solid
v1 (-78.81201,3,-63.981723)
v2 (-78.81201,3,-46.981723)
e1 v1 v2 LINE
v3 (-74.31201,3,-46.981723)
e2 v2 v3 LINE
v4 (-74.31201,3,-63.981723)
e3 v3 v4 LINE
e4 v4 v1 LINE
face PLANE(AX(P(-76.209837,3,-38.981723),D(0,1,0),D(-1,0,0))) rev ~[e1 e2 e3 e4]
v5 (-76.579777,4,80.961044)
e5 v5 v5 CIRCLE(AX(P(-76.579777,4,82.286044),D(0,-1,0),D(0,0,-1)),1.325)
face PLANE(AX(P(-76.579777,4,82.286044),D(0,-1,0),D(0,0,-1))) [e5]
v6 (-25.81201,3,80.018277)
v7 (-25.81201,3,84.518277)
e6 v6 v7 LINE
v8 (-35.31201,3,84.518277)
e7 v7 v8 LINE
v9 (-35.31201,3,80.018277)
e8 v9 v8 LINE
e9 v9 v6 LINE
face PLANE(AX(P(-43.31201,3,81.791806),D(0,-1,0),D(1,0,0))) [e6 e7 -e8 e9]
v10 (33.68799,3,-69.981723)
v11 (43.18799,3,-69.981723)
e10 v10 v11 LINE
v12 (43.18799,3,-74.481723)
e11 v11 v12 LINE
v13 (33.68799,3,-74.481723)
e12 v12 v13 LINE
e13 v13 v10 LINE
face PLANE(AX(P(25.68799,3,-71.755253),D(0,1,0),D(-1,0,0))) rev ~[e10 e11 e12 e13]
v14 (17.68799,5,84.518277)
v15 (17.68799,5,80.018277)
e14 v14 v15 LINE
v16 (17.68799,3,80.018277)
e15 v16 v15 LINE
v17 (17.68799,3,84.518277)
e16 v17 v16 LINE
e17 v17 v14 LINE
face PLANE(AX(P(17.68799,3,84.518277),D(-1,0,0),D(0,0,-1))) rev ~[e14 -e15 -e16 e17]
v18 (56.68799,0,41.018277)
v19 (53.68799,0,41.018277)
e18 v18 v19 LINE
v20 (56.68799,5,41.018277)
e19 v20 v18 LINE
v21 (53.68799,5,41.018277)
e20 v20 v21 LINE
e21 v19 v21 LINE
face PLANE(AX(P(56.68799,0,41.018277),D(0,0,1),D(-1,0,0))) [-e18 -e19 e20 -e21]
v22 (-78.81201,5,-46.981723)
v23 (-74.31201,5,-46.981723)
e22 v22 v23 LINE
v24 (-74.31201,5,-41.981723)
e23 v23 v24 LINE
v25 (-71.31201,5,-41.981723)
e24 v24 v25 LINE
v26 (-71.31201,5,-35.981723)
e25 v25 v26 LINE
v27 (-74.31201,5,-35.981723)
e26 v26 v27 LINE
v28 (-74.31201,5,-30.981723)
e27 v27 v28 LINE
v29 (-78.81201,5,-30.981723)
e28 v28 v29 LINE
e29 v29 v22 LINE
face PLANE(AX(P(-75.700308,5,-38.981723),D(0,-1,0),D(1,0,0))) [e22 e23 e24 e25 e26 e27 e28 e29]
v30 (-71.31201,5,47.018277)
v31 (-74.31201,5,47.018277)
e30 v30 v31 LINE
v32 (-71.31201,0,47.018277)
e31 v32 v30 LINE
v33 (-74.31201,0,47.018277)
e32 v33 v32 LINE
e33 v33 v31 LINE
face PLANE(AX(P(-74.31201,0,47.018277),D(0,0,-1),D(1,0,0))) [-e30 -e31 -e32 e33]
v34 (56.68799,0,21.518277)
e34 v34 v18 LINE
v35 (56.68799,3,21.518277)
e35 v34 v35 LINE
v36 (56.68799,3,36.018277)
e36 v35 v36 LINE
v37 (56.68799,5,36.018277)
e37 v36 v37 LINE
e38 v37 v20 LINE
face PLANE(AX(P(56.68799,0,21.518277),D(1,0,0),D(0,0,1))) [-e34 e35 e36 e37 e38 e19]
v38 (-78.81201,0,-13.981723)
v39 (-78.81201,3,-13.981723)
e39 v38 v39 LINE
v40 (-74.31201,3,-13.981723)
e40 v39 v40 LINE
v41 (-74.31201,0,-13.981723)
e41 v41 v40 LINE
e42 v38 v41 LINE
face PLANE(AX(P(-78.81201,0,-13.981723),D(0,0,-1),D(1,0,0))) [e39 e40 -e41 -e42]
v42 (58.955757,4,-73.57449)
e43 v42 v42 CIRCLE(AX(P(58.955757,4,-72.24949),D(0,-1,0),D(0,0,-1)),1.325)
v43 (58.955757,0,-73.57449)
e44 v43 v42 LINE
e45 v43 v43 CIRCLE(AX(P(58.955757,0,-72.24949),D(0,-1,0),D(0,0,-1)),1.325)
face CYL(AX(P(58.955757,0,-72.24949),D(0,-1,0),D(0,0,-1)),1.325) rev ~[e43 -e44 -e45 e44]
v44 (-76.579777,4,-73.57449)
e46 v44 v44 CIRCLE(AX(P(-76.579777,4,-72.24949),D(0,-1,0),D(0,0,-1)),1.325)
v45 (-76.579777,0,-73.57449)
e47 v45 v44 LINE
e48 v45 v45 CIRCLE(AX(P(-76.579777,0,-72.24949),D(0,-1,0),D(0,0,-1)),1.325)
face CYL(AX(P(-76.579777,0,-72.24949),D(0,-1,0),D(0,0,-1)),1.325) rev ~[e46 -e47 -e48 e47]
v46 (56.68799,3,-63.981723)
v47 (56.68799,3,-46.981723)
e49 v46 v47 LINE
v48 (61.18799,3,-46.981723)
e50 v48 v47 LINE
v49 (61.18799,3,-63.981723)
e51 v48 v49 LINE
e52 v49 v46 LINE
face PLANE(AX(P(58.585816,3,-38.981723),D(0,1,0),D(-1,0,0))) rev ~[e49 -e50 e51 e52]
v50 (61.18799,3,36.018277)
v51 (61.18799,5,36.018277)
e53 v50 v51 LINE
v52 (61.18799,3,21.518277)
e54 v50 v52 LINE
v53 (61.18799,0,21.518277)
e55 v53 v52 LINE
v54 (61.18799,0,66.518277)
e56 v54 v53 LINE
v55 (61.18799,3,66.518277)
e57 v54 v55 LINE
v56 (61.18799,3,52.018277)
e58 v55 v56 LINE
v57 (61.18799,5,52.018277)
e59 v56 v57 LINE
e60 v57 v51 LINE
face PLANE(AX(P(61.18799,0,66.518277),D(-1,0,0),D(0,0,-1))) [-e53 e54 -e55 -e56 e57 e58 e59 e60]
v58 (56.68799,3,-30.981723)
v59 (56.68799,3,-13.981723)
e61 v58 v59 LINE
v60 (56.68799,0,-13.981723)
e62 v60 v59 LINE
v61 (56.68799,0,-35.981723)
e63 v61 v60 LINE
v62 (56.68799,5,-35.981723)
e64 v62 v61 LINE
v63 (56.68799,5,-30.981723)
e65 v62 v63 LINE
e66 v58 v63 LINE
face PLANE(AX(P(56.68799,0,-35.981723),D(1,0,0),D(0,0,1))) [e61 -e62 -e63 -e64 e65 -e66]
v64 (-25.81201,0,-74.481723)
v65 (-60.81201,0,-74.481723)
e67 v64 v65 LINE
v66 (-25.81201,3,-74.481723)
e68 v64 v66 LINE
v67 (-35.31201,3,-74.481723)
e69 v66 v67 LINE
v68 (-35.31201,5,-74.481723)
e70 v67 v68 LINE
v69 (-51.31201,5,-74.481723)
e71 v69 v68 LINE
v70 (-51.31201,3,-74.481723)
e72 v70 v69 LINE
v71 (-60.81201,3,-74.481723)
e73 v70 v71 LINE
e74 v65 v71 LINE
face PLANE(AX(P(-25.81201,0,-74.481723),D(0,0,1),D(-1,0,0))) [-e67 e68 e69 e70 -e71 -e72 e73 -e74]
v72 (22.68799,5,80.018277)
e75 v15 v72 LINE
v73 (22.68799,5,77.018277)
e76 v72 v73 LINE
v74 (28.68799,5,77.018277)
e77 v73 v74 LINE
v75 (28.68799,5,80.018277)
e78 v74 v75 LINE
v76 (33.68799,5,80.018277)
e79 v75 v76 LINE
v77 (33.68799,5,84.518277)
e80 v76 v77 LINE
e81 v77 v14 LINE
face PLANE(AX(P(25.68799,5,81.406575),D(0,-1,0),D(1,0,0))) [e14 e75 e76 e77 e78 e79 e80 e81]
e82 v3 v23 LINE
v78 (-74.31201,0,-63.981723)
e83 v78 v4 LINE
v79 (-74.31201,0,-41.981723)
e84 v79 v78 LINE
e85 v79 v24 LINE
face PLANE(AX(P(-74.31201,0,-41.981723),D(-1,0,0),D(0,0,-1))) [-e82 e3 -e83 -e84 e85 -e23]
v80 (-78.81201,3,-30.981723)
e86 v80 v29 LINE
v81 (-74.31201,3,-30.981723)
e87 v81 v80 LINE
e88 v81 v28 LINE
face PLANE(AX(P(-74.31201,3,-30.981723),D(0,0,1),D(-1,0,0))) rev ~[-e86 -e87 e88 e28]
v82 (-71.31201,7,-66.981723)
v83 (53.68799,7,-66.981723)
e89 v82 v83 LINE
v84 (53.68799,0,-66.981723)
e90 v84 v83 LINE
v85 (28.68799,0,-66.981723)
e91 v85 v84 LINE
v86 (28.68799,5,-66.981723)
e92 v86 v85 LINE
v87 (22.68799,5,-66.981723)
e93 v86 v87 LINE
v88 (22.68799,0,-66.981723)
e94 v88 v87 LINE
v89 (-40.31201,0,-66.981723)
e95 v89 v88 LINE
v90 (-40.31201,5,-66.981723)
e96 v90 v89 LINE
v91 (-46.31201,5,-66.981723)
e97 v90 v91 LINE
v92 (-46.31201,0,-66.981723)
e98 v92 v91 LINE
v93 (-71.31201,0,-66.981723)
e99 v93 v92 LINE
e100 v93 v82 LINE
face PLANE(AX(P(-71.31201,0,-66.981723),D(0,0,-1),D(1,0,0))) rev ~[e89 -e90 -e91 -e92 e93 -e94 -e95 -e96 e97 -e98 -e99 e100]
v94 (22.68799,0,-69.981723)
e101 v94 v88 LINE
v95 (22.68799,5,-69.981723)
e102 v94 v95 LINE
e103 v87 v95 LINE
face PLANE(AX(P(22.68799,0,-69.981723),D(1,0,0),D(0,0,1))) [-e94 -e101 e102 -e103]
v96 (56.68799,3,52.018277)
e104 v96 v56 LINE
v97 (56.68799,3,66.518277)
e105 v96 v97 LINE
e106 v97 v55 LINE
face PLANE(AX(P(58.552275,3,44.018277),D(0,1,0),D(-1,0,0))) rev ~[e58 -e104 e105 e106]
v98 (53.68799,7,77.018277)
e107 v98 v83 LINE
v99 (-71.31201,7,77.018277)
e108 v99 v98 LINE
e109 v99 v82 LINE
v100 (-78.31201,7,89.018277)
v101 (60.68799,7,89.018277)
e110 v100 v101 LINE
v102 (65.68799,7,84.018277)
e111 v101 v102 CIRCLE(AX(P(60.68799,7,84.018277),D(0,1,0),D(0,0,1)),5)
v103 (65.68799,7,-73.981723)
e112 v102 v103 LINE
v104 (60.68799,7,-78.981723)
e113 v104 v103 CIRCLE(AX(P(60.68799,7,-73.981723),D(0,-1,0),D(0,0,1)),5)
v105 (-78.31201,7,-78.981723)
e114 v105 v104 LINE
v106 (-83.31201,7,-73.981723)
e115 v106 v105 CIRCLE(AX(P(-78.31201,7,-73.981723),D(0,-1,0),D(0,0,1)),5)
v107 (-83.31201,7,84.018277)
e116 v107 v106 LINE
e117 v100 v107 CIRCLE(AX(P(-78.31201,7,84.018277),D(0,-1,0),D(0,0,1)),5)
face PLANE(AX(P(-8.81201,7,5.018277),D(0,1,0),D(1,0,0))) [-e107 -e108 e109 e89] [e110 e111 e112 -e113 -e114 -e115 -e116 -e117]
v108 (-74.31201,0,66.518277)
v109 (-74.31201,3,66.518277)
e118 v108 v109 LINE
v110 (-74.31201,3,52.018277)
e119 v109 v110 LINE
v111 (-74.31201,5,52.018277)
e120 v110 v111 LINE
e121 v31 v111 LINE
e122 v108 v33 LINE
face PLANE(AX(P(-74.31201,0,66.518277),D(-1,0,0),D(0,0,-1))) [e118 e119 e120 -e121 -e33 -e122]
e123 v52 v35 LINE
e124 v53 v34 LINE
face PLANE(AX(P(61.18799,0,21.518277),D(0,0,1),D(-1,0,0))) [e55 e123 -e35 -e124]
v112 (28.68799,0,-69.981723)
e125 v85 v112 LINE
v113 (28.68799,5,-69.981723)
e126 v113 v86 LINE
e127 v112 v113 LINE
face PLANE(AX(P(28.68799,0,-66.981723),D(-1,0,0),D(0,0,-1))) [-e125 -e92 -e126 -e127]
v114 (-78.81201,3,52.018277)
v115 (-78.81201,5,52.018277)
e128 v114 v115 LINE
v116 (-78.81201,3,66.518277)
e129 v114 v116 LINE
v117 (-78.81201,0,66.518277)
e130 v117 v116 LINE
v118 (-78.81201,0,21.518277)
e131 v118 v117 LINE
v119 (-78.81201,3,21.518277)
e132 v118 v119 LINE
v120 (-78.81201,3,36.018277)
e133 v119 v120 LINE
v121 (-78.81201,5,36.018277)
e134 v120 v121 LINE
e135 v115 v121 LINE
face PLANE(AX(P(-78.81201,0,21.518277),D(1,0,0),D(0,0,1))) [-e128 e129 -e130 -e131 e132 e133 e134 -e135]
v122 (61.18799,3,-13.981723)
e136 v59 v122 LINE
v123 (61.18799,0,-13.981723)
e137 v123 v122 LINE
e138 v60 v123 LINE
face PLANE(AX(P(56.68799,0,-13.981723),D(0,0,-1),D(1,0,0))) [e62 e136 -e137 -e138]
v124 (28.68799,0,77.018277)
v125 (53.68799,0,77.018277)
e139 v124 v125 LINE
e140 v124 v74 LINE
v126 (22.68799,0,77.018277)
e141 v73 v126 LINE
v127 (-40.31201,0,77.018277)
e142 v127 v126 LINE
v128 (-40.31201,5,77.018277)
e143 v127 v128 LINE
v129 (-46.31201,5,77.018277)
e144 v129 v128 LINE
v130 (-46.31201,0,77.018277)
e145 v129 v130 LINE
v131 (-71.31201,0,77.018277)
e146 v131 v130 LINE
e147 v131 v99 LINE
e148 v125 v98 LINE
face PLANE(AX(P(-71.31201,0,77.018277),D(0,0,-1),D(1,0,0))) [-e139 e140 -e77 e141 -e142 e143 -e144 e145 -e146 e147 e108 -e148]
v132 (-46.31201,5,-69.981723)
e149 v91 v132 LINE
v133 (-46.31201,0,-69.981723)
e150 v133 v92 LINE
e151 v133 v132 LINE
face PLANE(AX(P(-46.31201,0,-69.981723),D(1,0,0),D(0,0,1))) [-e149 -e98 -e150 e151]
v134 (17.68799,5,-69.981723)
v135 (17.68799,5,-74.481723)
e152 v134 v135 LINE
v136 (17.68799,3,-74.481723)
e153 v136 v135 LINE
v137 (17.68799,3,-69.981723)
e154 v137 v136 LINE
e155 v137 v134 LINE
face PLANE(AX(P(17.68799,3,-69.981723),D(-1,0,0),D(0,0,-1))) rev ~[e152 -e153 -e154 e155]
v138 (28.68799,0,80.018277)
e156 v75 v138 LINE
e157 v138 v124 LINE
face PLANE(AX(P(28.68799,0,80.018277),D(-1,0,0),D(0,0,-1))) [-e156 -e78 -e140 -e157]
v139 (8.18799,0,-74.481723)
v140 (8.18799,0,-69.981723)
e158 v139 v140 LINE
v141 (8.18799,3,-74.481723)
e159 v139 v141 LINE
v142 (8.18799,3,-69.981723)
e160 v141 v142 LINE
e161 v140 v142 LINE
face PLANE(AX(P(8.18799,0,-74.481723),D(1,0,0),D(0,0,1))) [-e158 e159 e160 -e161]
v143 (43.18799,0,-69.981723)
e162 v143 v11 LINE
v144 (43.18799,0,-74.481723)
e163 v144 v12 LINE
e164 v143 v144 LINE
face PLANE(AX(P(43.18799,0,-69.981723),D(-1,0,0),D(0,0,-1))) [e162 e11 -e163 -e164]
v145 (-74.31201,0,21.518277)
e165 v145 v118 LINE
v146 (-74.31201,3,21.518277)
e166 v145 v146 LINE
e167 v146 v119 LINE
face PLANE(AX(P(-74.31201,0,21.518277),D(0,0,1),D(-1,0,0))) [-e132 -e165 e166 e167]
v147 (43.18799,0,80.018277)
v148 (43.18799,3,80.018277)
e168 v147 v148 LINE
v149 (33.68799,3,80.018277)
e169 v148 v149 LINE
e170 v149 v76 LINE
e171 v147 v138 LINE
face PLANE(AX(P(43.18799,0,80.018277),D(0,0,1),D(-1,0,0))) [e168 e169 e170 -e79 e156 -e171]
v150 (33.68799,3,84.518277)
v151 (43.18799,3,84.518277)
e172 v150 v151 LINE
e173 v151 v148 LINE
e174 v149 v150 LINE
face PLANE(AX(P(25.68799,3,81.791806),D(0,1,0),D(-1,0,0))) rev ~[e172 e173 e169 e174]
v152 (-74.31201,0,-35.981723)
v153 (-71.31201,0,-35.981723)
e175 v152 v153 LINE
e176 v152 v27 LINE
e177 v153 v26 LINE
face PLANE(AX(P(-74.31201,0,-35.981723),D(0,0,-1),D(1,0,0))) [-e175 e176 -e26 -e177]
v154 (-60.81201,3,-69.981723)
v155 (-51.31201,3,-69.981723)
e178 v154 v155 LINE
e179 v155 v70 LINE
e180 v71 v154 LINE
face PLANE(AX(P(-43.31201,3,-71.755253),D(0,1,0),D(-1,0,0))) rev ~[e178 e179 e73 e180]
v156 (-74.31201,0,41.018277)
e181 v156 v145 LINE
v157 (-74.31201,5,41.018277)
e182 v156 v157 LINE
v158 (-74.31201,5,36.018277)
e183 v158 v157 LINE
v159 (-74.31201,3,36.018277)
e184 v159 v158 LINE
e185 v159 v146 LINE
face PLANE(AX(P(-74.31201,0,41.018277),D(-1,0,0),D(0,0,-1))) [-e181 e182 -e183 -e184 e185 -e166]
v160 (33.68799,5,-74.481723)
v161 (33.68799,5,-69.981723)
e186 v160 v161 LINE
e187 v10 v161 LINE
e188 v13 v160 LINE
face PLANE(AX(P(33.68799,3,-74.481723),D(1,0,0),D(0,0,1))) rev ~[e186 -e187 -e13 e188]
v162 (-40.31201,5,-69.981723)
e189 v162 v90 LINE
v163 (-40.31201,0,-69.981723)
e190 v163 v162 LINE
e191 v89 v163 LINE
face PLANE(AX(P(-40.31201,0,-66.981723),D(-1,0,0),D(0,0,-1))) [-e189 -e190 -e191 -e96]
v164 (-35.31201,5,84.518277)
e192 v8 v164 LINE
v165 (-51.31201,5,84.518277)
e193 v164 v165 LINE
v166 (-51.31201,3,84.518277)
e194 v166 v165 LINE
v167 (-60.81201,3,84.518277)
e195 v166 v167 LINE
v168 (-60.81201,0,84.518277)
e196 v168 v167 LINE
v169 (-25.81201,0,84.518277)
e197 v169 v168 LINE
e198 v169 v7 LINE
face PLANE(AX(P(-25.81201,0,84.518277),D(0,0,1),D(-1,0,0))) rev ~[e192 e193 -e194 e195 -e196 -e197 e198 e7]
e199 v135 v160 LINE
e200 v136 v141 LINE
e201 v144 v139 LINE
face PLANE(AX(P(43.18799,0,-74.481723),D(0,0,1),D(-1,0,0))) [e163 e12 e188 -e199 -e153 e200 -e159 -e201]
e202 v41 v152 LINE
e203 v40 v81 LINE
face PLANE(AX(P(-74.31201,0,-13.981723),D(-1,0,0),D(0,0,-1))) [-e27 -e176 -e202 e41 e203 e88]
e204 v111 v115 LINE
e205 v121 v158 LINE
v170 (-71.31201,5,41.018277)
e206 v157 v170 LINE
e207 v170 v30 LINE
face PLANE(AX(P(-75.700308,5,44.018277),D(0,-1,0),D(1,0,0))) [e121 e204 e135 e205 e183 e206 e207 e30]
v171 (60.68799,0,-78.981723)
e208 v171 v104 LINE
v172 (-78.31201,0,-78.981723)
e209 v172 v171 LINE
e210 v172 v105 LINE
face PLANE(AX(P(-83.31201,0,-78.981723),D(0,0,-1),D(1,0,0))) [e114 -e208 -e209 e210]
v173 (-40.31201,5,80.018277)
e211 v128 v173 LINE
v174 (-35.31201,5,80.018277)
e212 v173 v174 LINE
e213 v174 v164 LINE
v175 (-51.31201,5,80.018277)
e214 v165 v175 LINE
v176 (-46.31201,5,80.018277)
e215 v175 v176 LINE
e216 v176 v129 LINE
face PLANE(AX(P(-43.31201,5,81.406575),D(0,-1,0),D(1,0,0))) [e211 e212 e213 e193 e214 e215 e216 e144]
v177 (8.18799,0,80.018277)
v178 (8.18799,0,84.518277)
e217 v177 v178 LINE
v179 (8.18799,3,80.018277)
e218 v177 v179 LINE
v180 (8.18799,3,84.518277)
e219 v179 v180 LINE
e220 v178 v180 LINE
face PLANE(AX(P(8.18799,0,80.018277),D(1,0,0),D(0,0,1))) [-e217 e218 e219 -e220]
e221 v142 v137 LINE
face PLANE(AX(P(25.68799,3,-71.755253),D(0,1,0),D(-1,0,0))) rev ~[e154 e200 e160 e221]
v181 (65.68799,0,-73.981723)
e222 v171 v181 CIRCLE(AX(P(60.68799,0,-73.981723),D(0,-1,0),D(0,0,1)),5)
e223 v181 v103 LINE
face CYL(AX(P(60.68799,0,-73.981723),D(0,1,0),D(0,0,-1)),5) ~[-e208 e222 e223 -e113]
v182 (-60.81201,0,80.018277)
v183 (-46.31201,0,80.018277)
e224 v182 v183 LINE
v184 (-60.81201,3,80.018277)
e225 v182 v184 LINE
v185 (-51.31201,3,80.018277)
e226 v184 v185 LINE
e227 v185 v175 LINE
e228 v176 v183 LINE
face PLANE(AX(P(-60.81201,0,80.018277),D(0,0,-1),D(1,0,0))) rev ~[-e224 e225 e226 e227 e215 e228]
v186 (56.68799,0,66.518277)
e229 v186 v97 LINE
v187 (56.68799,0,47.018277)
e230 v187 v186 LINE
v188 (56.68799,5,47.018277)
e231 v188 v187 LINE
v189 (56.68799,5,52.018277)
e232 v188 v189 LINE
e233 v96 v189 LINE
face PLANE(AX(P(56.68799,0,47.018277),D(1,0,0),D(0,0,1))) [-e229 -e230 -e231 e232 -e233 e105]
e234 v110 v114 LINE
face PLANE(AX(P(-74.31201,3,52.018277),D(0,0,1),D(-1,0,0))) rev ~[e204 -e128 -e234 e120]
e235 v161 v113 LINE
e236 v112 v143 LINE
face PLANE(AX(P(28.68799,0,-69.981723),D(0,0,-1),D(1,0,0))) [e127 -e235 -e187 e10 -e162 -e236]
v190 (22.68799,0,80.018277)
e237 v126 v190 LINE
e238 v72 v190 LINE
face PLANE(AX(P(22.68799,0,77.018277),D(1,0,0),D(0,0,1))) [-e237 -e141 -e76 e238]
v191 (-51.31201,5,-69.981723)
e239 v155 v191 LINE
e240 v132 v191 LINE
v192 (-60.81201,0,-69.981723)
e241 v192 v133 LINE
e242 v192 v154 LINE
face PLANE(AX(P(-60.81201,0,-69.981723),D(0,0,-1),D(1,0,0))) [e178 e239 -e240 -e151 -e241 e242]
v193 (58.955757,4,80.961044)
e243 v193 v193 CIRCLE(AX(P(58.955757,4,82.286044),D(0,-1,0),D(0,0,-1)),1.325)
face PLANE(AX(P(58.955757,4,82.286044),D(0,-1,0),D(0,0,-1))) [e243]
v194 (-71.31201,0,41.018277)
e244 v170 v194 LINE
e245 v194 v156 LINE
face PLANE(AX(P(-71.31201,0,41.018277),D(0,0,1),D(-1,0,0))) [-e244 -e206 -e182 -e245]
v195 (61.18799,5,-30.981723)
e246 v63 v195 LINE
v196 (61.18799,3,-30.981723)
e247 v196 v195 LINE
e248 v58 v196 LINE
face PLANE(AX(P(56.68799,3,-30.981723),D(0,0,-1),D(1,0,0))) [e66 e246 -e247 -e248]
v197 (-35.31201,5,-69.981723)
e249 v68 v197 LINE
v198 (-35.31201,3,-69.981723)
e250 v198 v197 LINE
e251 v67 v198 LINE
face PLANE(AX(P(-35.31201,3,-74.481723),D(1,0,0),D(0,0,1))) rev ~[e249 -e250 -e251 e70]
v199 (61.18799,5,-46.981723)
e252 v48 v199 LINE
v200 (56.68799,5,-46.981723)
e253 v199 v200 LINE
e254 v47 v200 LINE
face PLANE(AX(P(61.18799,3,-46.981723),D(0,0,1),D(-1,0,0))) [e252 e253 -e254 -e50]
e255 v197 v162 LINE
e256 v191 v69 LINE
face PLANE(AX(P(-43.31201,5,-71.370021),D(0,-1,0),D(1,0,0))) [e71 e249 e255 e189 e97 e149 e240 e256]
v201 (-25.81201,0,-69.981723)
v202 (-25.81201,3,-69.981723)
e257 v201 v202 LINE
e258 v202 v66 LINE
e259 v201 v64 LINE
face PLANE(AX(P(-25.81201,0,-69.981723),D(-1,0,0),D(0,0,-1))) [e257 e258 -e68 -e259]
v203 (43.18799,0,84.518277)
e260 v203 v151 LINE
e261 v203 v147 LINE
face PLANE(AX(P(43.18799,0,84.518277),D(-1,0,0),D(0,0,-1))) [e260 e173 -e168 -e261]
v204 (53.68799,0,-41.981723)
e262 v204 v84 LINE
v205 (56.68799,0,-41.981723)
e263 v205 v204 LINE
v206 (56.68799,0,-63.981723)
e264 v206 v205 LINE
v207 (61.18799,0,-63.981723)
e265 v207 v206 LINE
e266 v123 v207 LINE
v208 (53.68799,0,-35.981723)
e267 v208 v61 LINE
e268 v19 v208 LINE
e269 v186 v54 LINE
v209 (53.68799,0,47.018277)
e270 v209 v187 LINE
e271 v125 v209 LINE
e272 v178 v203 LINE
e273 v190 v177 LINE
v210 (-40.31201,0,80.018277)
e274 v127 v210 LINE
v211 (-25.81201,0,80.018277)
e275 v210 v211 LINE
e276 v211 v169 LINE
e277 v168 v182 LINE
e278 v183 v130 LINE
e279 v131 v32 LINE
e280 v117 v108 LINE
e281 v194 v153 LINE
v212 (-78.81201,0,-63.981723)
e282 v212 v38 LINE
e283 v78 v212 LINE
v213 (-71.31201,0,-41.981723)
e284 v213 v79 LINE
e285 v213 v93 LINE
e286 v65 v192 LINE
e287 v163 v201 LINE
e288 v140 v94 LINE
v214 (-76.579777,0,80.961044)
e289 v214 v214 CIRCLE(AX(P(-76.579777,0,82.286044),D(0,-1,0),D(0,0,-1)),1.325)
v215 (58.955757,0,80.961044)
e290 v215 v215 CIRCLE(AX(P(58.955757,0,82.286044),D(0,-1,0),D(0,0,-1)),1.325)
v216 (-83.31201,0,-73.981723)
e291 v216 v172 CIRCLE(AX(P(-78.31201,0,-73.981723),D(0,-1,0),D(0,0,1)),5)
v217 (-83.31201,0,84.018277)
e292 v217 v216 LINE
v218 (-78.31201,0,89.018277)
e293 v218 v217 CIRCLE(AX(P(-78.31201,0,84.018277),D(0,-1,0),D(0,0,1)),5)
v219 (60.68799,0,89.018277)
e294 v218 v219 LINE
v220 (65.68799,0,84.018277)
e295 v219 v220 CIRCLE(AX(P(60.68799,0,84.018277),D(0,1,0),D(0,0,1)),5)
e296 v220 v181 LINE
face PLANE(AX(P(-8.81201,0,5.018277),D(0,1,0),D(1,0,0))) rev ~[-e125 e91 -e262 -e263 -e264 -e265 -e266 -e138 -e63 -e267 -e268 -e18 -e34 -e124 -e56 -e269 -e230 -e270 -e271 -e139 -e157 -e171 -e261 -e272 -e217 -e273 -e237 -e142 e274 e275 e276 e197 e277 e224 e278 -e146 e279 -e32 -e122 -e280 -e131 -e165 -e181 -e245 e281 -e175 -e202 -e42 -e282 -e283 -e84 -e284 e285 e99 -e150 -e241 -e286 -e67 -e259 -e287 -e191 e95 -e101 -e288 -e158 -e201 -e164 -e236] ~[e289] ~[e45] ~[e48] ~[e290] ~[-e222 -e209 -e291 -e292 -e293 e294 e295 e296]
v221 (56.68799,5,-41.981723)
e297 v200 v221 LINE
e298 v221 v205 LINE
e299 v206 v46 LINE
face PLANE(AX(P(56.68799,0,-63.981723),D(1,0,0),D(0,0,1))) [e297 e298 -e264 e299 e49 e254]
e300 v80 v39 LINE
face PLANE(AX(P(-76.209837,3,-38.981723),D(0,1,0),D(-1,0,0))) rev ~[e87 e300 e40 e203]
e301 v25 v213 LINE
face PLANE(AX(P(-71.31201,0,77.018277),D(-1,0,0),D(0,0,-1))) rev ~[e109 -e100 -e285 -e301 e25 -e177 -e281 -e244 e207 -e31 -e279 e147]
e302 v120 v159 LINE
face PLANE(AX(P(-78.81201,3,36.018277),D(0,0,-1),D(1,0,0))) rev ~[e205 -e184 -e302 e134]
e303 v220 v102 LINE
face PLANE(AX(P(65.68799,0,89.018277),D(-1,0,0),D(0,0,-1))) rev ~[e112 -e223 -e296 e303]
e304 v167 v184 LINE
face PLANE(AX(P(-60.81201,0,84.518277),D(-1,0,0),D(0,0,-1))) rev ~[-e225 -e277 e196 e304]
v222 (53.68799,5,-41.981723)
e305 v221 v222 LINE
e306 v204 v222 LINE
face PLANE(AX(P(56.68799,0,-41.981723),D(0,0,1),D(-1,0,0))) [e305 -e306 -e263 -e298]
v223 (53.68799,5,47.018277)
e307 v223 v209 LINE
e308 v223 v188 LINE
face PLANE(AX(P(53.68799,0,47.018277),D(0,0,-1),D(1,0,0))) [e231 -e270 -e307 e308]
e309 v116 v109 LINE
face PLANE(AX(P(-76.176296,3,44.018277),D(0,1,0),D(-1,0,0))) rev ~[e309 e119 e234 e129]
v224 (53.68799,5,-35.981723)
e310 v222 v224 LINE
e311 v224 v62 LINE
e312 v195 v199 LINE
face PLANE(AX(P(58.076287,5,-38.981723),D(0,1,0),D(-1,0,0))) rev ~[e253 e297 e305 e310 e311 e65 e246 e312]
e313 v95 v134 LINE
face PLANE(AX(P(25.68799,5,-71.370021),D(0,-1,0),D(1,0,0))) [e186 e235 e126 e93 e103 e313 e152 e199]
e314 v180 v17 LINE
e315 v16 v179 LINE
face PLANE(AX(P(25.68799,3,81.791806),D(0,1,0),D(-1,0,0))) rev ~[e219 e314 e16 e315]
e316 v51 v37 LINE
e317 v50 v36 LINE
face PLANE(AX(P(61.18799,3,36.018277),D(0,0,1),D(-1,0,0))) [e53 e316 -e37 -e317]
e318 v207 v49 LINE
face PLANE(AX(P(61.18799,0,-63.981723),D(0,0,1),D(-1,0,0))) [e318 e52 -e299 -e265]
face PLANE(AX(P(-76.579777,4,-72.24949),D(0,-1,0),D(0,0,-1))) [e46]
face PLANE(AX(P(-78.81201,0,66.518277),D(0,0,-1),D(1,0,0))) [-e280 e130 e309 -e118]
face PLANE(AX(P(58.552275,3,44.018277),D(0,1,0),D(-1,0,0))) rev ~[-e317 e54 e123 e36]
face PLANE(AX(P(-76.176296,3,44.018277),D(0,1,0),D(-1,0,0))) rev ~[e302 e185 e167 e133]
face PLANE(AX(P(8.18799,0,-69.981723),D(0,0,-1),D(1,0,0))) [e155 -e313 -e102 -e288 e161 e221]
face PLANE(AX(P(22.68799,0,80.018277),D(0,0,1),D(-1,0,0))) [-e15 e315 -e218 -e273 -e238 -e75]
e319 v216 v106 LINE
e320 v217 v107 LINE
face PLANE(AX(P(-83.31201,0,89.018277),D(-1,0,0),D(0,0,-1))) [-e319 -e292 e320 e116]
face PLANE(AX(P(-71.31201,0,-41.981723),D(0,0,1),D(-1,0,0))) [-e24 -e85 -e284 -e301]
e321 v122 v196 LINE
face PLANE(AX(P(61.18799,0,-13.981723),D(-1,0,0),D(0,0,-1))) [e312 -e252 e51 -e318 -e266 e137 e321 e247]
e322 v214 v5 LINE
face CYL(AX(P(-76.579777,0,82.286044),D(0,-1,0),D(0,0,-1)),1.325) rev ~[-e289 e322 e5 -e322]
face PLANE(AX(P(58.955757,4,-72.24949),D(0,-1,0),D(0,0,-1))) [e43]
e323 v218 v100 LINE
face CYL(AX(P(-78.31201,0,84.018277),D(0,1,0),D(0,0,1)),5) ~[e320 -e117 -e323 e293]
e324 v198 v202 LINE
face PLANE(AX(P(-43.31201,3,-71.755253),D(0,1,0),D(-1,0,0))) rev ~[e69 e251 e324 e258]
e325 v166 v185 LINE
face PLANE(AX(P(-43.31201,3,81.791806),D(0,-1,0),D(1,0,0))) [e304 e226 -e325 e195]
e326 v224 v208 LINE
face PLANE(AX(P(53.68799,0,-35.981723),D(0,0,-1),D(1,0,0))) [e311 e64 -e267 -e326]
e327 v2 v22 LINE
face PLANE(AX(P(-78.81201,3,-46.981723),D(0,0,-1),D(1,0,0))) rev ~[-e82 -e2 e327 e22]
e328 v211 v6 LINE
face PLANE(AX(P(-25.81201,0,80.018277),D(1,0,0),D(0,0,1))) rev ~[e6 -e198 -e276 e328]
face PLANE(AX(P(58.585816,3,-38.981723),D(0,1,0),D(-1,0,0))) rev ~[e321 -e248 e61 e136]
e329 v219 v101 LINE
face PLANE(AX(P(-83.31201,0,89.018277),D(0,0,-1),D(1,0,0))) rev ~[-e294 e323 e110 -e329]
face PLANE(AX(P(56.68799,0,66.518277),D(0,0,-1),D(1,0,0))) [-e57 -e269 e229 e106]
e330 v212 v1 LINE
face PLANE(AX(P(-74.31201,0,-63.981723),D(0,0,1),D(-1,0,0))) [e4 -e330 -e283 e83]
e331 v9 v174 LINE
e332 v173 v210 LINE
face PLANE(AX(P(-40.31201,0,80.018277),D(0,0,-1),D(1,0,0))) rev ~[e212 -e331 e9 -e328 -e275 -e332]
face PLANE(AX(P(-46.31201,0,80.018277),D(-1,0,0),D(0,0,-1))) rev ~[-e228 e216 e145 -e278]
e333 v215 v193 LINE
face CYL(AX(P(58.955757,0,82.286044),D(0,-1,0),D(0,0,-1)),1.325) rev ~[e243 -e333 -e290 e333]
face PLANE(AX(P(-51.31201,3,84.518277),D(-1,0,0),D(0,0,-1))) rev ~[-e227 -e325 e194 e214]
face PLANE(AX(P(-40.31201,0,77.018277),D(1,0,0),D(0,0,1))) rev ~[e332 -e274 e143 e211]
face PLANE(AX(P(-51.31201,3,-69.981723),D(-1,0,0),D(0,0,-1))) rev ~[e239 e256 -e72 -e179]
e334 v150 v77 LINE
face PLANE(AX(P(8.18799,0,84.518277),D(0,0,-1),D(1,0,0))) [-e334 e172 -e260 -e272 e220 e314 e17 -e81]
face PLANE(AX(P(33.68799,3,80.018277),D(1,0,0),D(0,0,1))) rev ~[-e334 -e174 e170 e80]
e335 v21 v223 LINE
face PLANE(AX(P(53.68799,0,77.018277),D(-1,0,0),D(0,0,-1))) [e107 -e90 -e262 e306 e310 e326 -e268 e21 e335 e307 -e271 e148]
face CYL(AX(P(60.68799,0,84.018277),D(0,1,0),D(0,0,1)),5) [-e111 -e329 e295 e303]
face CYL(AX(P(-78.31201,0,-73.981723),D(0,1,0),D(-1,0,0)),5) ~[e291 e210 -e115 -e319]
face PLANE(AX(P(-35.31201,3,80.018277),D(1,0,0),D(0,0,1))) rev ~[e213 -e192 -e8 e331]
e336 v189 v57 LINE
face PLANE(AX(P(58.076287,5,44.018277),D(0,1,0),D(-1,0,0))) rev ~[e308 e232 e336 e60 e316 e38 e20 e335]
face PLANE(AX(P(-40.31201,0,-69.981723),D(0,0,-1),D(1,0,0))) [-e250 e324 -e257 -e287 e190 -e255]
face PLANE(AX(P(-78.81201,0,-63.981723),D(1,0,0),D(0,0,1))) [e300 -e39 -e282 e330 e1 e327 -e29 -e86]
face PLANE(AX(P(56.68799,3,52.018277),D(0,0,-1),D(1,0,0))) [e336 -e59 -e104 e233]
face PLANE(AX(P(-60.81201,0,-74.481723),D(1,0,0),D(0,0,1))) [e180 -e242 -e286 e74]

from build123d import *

# Parameters (mm, degrees)
SKETCH1_W           = 149
SKETCH1_H           = 168
SKETCH1_W_2         = 125
SKETCH1_H_2         = 144
BOSS_EXTRUDE1_DEPTH = 7
FILLET1_R           = 5
FILLET2_R           = 5
FILLET3_R           = 5
FILLET4_R           = 5
CUT_EXTRUDE1_DEPTH  = 3
SKETCH6_R           = 1.325
CUT_EXTRUDE2_DEPTH  = 4
CUT_EXTRUDE3_DEPTH  = 2


with BuildPart() as part:
    # Sketch1 → Boss-Extrude1 (new body)
    with BuildSketch(Plane(origin=(0, 0, 0), x_dir=(1, 0, 0), z_dir=(0, 1, 0))):
        with Locations((-8.812010444, -5.018276762)):
            Rectangle(SKETCH1_W, SKETCH1_H)
        with Locations((-8.812010444, -5.018276762)):
            Rectangle(SKETCH1_W_2, SKETCH1_H_2, mode=Mode.SUBTRACT)
    extrude(amount=BOSS_EXTRUDE1_DEPTH)

    # Fillet1
    fillet1_edges = [part.edges().sort_by_distance(p)[0] for p in [
        (65.687989556, 3.5, 89.018276762),
    ]]
    fillet(fillet1_edges, radius=FILLET1_R)

    # Fillet2
    fillet2_edges = [part.edges().sort_by_distance(p)[0] for p in [
        (-83.312010444, 3.5, 89.018276762),
    ]]
    fillet(fillet2_edges, radius=FILLET2_R)

    # Fillet3
    fillet3_edges = [part.edges().sort_by_distance(p)[0] for p in [
        (-83.312010444, 3.5, -78.981723238),
    ]]
    fillet(fillet3_edges, radius=FILLET3_R)

    # Fillet4
    fillet4_edges = [part.edges().sort_by_distance(p)[0] for p in [
        (65.687989556, 3.5, -78.981723238),
    ]]
    fillet(fillet4_edges, radius=FILLET4_R)

    # Sketch4 → Cut-Extrude1 (cut)
    with BuildSketch(Plane.XZ):
        Polygon((-40.312010444, 80.018276762), (-25.812010444, 80.018276762), (-25.812010444, 84.518276762), (-60.812010444, 84.518276762), (-60.812010444, 80.018276762), (-46.312010444, 80.018276762), (-46.312010444, 77.018276762), (-40.312010444, 77.018276762), align=None)
        Polygon((22.687989556, 77.018276762), (22.687989556, 80.018276762), (8.187989556, 80.018276762), (8.187989556, 84.518276762), (43.187989556, 84.518276762), (43.187989556, 80.018276762), (28.687989556, 80.018276762), (28.687989556, 77.018276762), align=None)
        Polygon((53.687989556, 47.018276762), (56.687989556, 47.018276762), (56.687989556, 66.518276762), (61.187989556, 66.518276762), (61.187989556, 21.518276762), (56.687989556, 21.518276762), (56.687989556, 41.018276762), (53.687989556, 41.018276762), align=None)
        Polygon((53.687989556, -35.981723238), (56.687989556, -35.981723238), (56.687989556, -13.981723238), (61.187989556, -13.981723238), (61.187989556, -63.981723238), (56.687989556, -63.981723238), (56.687989556, -41.981723238), (53.687989556, -41.981723238), align=None)
        Polygon((43.187989556, -69.981723238), (43.187989556, -74.481723238), (8.187989556, -74.481723238), (8.187989556, -69.981723238), (22.687989556, -69.981723238), (22.687989556, -66.981723238), (28.687989556, -66.981723238), (28.687989556, -69.981723238), align=None)
        Polygon((-40.312010444, -66.981723238), (-40.312010444, -69.981723238), (-25.812010444, -69.981723238), (-25.812010444, -74.481723238), (-60.812010444, -74.481723238), (-60.812010444, -69.981723238), (-46.312010444, -69.981723238), (-46.312010444, -66.981723238), align=None)
        Polygon((-71.312010444, -41.981723238), (-74.312010444, -41.981723238), (-74.312010444, -63.981723238), (-78.812010444, -63.981723238), (-78.812010444, -13.981723238), (-74.312010444, -13.981723238), (-74.312010444, -35.981723238), (-71.312010444, -35.981723238), align=None)
        Polygon((-71.312010444, 41.018276762), (-74.312010444, 41.018276762), (-74.312010444, 21.518276762), (-78.812010444, 21.518276762), (-78.812010444, 66.518276762), (-74.312010444, 66.518276762), (-74.312010444, 47.018276762), (-71.312010444, 47.018276762), align=None)
    extrude(amount=-CUT_EXTRUDE1_DEPTH, mode=Mode.SUBTRACT)

    # Sketch6 → Cut-Extrude2 (cut)
    with BuildSketch(Plane.XZ):
        with Locations(Location((-76.579777397, 82.286043715, 0), (0, 0, 270))):
            Circle(SKETCH6_R)
        with Locations(Location((58.955756509, 82.286043715, 0), (0, 0, 270))):
            Circle(SKETCH6_R)
        with Locations(Location((58.955756509, -72.249490191, 0), (0, 0, 270))):
            Circle(SKETCH6_R)
        with Locations(Location((-76.579777397, -72.249490191, 0), (0, 0, 270))):
            Circle(SKETCH6_R)
    extrude(amount=-CUT_EXTRUDE2_DEPTH, mode=Mode.SUBTRACT)

    # Sketch7 → Cut-Extrude3 (cut)
    with BuildSketch(Plane.XZ.offset(-3)):
        Polygon((53.687989556, -35.981723238), (56.687989556, -35.981723238), (56.687989556, -30.981723238), (61.187989556, -30.981723238), (61.187989556, -46.981723238), (56.687989556, -46.981723238), (56.687989556, -41.981723238), (53.687989556, -41.981723238), align=None)
        Polygon((53.687989556, 47.018276762), (56.687989556, 47.018276762), (56.687989556, 52.018276762), (61.187989556, 52.018276762), (61.187989556, 36.018276762), (56.687989556, 36.018276762), (56.687989556, 41.018276762), (53.687989556, 41.018276762), align=None)
        Polygon((28.687989556, 77.018276762), (28.687989556, 80.018276762), (33.687989556, 80.018276762), (33.687989556, 84.518276762), (17.687989556, 84.518276762), (17.687989556, 80.018276762), (22.687989556, 80.018276762), (22.687989556, 77.018276762), align=None)
        Polygon((-40.312010444, 77.018276762), (-40.312010444, 80.018276762), (-35.312010444, 80.018276762), (-35.312010444, 84.518276762), (-51.312010444, 84.518276762), (-51.312010444, 80.018276762), (-46.312010444, 80.018276762), (-46.312010444, 77.018276762), align=None)
        Polygon((-71.312010444, 47.018276762), (-74.312010444, 47.018276762), (-74.312010444, 52.018276762), (-78.812010444, 52.018276762), (-78.812010444, 36.018276762), (-74.312010444, 36.018276762), (-74.312010444, 41.018276762), (-71.312010444, 41.018276762), align=None)
        Polygon((-71.312010444, -35.981723238), (-74.312010444, -35.981723238), (-74.312010444, -30.981723238), (-78.812010444, -30.981723238), (-78.812010444, -46.981723238), (-74.312010444, -46.981723238), (-74.312010444, -41.981723238), (-71.312010444, -41.981723238), align=None)
        Polygon((-46.312010444, -66.981723238), (-46.312010444, -69.981723238), (-51.312010444, -69.981723238), (-51.312010444, -74.481723238), (-35.312010444, -74.481723238), (-35.312010444, -69.981723238), (-40.312010444, -69.981723238), (-40.312010444, -66.981723238), align=None)
        Polygon((22.687989556, -66.981723238), (22.687989556, -69.981723238), (17.687989556, -69.981723238), (17.687989556, -74.481723238), (33.687989556, -74.481723238), (33.687989556, -69.981723238), (28.687989556, -69.981723238), (28.687989556, -66.981723238), align=None)
    extrude(amount=-CUT_EXTRUDE3_DEPTH, mode=Mode.SUBTRACT)


solid = part.part
